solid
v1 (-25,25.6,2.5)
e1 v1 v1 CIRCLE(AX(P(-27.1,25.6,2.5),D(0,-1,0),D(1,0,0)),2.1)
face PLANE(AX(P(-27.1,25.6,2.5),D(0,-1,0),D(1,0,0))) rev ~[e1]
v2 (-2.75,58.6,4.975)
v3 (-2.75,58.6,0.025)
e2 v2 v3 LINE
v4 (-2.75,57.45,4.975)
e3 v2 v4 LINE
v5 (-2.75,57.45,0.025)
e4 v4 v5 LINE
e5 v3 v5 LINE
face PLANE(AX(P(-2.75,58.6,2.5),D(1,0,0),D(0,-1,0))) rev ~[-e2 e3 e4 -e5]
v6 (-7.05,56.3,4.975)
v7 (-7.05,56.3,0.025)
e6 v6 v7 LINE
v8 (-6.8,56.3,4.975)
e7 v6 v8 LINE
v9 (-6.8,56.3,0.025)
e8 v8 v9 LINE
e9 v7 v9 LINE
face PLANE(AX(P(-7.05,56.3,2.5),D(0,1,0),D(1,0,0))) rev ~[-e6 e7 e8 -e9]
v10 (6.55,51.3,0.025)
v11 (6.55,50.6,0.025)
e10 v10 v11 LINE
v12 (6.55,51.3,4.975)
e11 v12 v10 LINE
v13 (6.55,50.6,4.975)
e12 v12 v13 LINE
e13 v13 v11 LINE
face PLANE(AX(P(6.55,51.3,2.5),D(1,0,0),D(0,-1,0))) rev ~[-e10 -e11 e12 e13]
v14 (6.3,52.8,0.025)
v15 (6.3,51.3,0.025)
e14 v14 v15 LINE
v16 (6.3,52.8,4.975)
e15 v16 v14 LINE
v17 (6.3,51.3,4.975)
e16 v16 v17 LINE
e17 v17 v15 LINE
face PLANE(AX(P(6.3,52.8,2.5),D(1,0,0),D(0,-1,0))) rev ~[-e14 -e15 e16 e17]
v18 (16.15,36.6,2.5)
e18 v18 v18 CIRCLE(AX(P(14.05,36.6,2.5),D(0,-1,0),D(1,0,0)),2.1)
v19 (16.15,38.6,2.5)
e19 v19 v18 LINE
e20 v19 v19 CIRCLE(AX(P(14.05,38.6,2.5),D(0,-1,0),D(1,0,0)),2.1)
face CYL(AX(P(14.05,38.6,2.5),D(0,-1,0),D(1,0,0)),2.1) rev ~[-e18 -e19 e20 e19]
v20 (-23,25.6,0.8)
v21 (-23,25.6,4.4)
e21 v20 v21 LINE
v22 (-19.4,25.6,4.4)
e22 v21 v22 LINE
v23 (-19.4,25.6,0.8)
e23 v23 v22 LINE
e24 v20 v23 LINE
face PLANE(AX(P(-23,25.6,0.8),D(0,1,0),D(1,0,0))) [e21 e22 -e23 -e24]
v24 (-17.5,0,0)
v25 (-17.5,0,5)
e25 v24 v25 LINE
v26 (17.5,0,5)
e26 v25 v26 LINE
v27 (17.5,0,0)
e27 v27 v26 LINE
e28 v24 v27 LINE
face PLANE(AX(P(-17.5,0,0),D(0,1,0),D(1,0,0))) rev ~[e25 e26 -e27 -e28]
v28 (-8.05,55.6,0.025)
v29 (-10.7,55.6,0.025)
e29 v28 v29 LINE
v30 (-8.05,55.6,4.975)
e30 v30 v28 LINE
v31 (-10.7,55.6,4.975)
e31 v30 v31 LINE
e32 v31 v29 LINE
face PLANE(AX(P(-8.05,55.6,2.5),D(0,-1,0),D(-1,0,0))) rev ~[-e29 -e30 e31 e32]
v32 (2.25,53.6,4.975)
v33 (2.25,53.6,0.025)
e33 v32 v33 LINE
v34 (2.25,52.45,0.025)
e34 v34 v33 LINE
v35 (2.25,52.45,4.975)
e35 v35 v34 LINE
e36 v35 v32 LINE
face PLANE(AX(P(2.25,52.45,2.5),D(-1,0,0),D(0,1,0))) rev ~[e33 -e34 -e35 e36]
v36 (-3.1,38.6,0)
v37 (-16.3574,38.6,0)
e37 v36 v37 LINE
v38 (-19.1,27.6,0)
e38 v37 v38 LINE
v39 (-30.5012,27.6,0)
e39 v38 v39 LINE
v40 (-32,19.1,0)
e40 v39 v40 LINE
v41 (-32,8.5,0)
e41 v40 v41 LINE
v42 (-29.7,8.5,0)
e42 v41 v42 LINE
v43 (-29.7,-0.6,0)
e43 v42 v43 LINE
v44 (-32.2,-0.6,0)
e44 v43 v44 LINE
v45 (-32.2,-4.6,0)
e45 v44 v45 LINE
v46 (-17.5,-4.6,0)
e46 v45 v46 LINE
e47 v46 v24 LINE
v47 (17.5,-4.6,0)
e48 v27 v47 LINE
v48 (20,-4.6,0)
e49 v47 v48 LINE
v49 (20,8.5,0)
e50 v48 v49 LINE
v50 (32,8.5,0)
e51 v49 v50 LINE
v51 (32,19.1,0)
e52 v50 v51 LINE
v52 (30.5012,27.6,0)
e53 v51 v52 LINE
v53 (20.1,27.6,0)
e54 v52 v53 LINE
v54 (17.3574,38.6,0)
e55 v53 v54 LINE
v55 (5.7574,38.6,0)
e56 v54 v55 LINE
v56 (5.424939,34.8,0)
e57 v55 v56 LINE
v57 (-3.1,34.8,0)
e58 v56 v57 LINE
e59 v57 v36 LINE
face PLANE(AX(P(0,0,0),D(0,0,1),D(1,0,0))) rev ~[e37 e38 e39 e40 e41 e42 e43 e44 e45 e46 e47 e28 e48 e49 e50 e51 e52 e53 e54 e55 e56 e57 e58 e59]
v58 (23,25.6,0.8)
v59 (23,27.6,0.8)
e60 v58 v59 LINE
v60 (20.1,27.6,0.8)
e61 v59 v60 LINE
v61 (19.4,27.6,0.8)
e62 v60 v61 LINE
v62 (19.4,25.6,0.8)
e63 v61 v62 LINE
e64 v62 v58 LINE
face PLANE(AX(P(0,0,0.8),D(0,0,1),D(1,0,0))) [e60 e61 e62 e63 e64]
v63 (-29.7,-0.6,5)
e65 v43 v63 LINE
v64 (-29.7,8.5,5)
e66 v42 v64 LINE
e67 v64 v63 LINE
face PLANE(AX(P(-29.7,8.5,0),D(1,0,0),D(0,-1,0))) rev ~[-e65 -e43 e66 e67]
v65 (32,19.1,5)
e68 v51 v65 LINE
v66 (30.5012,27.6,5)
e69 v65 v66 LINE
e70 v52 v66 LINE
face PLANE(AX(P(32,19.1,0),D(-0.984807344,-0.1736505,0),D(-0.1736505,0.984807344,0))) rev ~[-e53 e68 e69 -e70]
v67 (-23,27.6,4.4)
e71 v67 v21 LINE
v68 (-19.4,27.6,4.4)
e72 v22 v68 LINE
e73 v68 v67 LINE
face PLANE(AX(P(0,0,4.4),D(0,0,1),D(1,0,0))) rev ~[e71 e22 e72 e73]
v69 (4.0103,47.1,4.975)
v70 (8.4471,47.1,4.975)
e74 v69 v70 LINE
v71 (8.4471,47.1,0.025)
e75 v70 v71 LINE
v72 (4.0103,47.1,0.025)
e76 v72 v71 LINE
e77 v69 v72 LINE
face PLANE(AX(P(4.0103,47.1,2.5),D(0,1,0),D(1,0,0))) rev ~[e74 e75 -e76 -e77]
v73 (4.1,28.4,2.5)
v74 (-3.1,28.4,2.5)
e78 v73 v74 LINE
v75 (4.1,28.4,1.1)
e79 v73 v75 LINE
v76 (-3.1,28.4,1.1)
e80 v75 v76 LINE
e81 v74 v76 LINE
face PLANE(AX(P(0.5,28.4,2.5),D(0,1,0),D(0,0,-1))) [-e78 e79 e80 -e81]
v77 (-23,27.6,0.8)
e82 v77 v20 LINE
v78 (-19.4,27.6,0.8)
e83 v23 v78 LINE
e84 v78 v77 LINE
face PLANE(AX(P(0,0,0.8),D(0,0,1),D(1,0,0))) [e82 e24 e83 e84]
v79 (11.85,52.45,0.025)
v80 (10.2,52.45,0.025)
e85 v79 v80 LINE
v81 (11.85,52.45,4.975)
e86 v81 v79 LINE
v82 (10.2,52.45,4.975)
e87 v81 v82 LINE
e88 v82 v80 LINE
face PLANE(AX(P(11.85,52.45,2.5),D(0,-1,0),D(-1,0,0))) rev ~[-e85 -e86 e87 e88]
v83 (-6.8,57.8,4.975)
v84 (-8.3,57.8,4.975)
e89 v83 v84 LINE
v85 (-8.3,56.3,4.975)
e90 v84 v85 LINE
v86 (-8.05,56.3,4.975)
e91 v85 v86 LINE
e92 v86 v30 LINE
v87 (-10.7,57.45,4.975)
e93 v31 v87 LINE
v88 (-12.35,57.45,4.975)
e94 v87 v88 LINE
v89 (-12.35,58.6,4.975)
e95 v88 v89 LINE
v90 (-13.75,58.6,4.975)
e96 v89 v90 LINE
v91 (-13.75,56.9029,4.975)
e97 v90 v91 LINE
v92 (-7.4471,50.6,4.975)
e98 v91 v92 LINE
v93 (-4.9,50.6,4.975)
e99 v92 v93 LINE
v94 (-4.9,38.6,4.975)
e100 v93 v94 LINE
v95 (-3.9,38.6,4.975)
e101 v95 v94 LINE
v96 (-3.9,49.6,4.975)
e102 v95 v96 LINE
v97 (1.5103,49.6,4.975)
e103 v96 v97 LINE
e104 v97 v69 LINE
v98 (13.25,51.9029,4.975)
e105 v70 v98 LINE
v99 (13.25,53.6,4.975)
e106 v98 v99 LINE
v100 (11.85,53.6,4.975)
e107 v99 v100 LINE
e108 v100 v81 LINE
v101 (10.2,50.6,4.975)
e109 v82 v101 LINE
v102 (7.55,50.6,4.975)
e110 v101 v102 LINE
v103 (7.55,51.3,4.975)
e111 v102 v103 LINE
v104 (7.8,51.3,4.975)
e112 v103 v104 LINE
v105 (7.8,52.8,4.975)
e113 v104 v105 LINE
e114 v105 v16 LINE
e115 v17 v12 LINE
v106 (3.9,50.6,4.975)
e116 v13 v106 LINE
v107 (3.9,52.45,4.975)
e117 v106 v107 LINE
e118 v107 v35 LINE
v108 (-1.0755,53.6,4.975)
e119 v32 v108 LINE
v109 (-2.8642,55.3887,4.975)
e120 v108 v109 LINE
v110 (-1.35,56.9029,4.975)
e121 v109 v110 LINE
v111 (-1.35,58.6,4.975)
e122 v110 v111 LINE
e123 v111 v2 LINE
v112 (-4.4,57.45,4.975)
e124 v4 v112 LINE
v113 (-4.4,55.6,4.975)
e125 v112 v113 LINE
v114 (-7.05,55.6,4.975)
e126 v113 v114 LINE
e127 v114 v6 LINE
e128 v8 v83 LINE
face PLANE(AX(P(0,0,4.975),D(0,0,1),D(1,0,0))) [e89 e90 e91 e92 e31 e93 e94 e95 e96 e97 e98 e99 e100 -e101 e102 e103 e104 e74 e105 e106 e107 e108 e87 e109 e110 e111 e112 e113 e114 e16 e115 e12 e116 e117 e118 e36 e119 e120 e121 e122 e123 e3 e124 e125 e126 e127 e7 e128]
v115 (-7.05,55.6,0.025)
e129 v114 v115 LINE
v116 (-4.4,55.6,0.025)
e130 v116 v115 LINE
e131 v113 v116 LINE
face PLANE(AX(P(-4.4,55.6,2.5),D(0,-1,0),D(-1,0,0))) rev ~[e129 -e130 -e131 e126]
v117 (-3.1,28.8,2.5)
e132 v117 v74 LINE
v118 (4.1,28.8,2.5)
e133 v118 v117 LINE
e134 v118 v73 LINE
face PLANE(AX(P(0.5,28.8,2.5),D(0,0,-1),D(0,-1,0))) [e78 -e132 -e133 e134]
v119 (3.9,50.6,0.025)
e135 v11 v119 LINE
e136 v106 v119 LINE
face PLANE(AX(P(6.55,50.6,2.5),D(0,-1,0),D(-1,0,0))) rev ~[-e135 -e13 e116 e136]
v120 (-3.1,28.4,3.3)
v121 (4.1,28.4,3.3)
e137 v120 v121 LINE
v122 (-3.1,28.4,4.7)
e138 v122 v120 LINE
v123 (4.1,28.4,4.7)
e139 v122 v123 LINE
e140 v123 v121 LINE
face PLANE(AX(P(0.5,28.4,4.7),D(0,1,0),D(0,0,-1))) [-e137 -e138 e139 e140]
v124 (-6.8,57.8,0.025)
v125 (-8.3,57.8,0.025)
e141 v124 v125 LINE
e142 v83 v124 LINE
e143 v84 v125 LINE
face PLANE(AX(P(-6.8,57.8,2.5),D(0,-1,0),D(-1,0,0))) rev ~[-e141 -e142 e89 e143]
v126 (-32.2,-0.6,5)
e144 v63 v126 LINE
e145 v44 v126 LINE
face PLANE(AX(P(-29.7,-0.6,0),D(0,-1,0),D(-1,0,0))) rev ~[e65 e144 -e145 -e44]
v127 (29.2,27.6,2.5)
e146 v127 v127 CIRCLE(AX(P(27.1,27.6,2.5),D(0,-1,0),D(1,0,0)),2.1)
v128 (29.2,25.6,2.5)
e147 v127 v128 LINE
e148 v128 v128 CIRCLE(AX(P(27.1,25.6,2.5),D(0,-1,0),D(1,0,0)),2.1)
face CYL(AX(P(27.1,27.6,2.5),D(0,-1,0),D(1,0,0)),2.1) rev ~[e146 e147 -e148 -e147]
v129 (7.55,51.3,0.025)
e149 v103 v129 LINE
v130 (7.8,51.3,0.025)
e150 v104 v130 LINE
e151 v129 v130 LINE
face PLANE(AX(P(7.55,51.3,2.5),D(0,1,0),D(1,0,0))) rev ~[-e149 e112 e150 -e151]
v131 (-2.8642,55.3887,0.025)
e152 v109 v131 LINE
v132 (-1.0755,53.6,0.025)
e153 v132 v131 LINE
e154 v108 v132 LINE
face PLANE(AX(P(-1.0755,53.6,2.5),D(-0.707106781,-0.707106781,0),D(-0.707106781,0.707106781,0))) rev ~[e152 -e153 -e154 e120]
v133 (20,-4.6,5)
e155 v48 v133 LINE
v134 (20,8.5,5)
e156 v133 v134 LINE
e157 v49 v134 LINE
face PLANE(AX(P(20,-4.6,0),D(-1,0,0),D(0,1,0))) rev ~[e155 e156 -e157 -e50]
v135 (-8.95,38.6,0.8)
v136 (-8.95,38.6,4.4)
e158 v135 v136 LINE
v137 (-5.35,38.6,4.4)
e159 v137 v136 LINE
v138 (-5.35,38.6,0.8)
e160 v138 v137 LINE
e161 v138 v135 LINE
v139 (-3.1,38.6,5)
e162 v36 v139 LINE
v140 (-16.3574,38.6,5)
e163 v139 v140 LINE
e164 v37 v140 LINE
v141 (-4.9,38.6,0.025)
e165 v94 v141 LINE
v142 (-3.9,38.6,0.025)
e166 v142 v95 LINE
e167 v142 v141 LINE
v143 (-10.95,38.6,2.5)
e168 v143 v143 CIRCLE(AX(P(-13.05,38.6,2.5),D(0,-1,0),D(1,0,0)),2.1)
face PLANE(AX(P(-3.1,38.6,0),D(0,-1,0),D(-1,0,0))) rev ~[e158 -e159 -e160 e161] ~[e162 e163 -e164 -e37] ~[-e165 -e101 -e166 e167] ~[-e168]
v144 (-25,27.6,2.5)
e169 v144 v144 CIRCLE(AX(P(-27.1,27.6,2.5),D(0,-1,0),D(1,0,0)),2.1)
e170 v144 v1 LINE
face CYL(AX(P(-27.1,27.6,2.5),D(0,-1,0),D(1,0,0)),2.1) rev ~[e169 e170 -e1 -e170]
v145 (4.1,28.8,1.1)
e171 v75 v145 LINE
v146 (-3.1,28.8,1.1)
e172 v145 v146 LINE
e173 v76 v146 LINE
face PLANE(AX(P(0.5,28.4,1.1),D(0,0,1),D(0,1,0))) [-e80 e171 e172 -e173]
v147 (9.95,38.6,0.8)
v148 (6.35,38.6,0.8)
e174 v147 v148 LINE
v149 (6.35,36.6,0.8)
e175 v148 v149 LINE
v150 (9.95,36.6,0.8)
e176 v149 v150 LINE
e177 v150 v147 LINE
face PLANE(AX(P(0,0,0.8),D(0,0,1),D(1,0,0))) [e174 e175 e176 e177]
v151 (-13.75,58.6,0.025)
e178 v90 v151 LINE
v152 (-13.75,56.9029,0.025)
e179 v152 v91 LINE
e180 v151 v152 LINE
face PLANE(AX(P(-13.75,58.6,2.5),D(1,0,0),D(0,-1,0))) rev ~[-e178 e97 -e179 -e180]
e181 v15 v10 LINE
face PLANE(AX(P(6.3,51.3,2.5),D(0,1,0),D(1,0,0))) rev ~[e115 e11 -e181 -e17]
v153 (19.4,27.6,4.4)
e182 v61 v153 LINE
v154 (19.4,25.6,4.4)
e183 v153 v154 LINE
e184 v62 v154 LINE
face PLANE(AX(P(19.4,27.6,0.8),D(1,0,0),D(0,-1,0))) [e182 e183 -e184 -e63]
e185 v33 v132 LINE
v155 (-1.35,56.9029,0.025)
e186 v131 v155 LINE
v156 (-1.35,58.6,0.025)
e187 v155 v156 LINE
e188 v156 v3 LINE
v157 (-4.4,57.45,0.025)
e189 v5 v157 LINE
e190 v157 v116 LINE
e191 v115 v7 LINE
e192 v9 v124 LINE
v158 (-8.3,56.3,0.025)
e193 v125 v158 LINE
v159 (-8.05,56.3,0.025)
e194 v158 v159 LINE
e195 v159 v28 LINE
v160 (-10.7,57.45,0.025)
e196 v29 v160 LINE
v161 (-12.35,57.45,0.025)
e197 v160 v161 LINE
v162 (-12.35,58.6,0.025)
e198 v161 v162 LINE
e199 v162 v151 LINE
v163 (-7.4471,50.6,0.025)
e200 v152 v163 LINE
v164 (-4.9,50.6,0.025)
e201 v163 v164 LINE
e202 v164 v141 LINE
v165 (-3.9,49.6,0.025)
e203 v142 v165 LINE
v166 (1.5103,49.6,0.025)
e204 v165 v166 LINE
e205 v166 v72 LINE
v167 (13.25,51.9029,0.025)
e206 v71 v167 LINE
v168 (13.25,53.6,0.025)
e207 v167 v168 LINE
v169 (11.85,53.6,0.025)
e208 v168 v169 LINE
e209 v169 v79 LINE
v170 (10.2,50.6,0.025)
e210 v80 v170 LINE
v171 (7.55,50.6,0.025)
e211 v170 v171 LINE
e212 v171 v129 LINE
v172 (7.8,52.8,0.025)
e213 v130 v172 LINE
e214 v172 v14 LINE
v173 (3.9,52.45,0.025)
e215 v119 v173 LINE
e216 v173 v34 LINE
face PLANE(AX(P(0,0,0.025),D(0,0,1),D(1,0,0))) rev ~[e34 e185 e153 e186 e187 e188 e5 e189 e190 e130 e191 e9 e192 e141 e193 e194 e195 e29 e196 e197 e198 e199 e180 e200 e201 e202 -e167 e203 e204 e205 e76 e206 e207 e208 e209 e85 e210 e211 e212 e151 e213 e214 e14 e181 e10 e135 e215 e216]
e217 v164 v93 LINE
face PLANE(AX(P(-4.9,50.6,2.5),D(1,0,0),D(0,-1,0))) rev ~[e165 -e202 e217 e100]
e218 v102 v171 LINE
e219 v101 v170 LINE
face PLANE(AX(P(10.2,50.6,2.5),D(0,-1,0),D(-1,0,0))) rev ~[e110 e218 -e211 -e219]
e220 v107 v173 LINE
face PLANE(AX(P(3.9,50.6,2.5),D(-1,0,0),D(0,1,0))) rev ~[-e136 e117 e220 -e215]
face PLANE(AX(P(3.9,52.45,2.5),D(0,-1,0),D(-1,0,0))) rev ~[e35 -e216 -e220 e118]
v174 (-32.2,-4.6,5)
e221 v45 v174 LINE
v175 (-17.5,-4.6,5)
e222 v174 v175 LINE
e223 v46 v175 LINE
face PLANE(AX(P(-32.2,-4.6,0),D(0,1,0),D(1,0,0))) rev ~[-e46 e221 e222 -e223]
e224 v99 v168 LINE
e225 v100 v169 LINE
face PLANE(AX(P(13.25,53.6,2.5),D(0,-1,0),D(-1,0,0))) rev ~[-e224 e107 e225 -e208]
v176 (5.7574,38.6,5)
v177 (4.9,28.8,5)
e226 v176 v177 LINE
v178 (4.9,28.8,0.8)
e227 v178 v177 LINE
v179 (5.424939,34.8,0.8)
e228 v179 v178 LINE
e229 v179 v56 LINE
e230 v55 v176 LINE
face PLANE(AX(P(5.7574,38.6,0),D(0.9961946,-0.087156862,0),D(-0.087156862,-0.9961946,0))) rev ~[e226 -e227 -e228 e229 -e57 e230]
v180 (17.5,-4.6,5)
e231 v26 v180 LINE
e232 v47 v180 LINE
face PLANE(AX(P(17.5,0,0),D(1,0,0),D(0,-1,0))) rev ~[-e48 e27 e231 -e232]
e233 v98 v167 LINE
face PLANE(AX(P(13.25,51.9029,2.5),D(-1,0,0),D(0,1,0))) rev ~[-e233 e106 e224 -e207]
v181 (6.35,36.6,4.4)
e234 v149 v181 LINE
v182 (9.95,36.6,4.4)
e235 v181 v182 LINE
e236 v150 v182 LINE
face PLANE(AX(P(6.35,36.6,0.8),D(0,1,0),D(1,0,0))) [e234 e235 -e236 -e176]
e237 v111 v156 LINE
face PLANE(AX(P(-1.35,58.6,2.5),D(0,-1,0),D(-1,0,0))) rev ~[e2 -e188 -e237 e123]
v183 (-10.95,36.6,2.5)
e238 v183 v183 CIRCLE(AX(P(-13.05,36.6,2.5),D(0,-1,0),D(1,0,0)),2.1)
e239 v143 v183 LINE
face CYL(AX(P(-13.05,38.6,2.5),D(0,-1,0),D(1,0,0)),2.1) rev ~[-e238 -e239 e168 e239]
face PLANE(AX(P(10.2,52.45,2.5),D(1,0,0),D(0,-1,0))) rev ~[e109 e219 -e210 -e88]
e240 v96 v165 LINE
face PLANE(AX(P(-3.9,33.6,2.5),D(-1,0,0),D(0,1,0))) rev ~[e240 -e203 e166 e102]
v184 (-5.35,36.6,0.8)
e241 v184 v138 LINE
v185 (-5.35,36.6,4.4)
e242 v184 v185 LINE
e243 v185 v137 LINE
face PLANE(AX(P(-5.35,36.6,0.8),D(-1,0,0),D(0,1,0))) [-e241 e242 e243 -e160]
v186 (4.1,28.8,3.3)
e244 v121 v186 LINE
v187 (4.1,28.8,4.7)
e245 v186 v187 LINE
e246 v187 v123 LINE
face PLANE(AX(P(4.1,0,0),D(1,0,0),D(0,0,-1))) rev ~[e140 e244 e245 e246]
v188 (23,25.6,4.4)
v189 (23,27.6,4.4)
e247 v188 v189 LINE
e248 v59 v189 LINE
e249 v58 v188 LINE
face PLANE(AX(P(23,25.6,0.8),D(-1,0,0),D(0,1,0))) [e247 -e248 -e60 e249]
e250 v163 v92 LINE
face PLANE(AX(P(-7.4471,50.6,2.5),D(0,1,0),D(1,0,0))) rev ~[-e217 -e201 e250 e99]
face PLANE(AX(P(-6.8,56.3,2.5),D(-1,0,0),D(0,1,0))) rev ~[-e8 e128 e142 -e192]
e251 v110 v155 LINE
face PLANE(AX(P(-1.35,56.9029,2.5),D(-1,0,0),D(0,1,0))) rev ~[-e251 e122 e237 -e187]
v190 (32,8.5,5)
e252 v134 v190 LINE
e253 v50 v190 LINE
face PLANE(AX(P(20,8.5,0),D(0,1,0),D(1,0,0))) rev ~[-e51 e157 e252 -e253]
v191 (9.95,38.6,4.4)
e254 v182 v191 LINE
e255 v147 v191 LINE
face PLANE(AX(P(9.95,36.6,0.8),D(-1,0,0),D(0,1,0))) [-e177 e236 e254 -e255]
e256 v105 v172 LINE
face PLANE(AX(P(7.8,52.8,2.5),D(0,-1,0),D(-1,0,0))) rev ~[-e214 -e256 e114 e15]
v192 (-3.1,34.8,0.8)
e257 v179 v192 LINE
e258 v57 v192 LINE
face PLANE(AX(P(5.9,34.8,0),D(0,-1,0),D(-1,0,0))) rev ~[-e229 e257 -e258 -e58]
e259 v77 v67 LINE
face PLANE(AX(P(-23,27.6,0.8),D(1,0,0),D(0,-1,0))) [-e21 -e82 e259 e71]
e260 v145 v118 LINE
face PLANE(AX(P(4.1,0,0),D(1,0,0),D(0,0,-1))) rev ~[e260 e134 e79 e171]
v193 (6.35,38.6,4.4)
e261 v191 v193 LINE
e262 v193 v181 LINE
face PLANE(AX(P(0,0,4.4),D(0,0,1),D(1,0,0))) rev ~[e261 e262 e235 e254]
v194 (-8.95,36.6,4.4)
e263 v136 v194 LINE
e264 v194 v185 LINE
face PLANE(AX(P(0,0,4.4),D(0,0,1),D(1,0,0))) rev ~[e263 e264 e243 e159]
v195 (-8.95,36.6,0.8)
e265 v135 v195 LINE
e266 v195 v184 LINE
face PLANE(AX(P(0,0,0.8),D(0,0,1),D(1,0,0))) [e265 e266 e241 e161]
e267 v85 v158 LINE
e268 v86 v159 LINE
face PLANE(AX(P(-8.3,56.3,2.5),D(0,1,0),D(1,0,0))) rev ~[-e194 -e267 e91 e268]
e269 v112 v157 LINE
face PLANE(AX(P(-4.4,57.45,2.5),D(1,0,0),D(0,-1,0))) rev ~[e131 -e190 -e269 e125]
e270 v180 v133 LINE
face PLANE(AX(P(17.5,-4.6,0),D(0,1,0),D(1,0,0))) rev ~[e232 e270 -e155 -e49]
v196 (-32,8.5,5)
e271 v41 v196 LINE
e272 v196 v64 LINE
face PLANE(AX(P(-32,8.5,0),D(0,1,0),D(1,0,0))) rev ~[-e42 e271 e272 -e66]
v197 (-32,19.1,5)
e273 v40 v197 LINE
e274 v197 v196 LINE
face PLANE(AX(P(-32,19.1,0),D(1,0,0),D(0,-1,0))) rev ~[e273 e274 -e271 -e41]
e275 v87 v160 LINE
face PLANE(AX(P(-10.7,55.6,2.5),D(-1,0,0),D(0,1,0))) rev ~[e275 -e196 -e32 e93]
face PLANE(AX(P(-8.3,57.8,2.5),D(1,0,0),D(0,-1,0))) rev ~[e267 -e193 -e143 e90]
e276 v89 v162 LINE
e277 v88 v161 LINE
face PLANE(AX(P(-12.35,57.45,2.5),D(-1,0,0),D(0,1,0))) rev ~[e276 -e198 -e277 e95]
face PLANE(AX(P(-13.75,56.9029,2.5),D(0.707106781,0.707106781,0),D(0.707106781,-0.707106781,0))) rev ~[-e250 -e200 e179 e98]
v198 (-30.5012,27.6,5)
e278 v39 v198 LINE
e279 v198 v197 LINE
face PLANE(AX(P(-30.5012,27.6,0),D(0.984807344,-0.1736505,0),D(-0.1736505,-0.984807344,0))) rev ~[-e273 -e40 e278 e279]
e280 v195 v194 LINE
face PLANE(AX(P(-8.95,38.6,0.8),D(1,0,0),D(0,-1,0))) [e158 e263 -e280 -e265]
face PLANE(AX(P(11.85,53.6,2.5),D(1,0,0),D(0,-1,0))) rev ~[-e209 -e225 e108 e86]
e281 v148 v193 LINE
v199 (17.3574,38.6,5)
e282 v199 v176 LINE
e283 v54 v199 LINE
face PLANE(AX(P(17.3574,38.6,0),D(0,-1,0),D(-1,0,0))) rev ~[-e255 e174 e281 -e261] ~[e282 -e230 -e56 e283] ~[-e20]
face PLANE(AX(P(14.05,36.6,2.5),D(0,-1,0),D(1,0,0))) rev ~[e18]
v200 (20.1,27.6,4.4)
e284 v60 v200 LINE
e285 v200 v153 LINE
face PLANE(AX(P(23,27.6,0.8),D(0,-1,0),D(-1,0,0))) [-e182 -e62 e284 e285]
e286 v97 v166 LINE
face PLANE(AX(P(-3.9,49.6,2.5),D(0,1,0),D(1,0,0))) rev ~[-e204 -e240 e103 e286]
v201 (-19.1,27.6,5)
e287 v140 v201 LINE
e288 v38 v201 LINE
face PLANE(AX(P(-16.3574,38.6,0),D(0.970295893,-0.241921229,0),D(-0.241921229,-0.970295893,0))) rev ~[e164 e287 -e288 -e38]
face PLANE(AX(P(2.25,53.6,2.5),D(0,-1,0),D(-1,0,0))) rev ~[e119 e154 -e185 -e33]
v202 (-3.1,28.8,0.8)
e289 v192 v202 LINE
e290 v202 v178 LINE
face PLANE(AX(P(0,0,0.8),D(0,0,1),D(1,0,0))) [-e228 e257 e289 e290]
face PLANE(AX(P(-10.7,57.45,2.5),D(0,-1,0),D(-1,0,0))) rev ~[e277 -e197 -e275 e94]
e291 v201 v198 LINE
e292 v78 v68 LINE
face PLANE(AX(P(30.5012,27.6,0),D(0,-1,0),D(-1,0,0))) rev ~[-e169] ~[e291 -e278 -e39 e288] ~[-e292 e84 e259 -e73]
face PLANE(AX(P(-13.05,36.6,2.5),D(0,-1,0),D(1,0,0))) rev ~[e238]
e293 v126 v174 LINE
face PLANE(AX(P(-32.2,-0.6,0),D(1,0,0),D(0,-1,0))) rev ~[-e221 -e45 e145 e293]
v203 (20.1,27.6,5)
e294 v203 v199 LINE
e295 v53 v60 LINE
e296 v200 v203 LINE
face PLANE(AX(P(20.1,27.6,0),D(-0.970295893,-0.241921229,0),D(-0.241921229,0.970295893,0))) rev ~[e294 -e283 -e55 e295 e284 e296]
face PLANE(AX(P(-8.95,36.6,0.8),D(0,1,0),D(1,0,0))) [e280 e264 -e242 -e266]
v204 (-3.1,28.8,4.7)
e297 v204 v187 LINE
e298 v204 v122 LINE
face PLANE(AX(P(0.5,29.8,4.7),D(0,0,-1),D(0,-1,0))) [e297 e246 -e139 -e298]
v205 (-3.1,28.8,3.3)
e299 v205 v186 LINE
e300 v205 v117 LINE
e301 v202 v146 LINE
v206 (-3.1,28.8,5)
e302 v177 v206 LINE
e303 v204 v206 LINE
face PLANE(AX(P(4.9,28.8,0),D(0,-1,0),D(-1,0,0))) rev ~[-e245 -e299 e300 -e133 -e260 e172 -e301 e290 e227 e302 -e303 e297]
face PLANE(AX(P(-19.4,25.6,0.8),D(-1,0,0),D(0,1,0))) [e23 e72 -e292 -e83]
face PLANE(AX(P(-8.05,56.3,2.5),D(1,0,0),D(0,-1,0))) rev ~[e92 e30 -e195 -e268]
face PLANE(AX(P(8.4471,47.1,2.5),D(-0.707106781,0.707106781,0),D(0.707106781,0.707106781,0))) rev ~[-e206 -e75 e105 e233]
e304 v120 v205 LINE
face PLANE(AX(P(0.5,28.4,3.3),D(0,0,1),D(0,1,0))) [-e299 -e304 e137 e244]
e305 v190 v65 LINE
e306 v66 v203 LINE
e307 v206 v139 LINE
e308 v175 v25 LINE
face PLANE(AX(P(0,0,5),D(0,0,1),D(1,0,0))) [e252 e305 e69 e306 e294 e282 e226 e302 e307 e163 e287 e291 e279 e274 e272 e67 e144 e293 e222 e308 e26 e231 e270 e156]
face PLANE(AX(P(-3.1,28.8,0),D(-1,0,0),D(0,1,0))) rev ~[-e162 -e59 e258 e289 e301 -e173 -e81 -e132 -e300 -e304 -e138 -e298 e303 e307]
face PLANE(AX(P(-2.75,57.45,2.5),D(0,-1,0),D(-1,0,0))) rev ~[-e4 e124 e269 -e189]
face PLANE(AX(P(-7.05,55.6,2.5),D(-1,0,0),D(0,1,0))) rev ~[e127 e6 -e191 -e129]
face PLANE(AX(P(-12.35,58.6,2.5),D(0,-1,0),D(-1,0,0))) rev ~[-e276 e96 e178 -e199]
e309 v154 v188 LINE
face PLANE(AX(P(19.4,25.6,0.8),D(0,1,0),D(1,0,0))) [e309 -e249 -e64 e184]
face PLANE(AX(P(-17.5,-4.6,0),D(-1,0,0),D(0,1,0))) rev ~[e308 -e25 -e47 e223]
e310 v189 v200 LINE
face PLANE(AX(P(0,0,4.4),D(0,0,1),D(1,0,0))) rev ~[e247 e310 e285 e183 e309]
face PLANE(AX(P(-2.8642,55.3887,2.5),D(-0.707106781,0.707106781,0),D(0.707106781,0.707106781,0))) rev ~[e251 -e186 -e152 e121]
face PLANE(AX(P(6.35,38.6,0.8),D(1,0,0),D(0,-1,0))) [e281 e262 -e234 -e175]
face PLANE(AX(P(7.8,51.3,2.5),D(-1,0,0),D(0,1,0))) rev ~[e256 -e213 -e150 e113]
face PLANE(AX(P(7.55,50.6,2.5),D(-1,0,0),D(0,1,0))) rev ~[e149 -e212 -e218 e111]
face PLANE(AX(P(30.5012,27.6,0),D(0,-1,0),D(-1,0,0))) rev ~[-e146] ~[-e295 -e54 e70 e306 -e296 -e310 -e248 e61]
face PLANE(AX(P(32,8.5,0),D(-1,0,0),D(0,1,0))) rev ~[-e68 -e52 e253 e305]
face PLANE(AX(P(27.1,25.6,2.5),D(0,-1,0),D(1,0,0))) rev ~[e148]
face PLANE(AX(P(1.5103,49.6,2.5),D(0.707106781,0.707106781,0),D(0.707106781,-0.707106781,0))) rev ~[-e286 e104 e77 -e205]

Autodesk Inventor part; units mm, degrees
sketch "Sketch_1" plane through (0, 0, 0) normal (0, 0, 1) x (1, 0, 0)
  line L0 (-32.2, -0.6) -> (-32.2, -4.6)
  line L1 (-32.2, -4.6) -> (-17.5, -4.6)
  line L2 (-17.5, -4.6) -> (-17.5, 0)
  line L3 (-17.5, 0) -> (17.5, 0)
  line L4 (17.5, 0) -> (17.5, -4.6)
  line L5 (17.5, -4.6) -> (20, -4.6)
  line L6 (20, -4.6) -> (20, 8.5)
  line L7 (20, 8.5) -> (32, 8.5)
  line L8 (32, 8.5) -> (32, 19.1)
  line L9 (32, 19.1) -> (30.5012, 27.6)
  line L10 (30.5012, 27.6) -> (-30.5012, 27.6)
  line L11 (-30.5012, 27.6) -> (-32, 19.1)
  line L12 (-32, 19.1) -> (-32, 8.5)
  line L13 (-32, 8.5) -> (-29.7, 8.5)
  line L14 (-29.7, 8.5) -> (-29.7, -0.6)
  line L15 (-29.7, -0.6) -> (-32.2, -0.6)
extrude "Extrusion1" add sketch "Sketch_1" along normal blind 5
sketch "Sketch_2" plane through (0, 0, 0) normal (0, 0, 1) x (1, 0, 0)
  line L0 (-19.1, 27.6) -> (-18.2, 27.6)
  line L1 (-18.2, 27.6) -> (-18.2, 15.1)
  line L2 (-18.2, 15.1) -> (19.2, 15.1)
  line L3 (19.2, 15.1) -> (19.2, 27.6)
  line L4 (19.2, 27.6) -> (20.1, 27.6)
  line L5 (20.1, 27.6) -> (17.3574, 38.6)
  line L6 (17.3574, 38.6) -> (5.7574, 38.6)
  line L7 (5.7574, 38.6) -> (4.9, 28.8)
  line L8 (4.9, 28.8) -> (-3.1, 28.8)
  line L9 (-3.1, 28.8) -> (-3.1, 38.6)
  line L10 (-3.1, 38.6) -> (-16.3574, 38.6)
  line L11 (-16.3574, 38.6) -> (-19.1, 27.6)
extrude "Extrusion2" add sketch "Sketch_2" along normal blind 5
sketch "Skizze_3" plane through (0, 0, 0) normal (0, 0, 1) x (1, 0, 0)
  line L0 (-3.1, 34.8) -> (-3.1, 28.8)
  line L1 (-3.1, 28.8) -> (5.9, 28.8)
  line L2 (5.9, 28.8) -> (5.9, 34.8)
  line L3 (5.9, 34.8) -> (-3.1, 34.8)
extrude "Extrusion3" add sketch "Skizze_3" along normal blind 0.8
sketch "Sketch_3" plane through (0.5, 0, 0) normal (1, 0, 0) x (0, 0, -1)
  line L0 (-4.7, 28.4) -> (-3.3, 28.4)
  line L1 (-3.3, 28.4) -> (-3.3, 28.8)
  line L2 (-3.3, 28.8) -> (-2.5, 28.8)
  line L3 (-2.5, 28.8) -> (-2.5, 28.4)
  line L4 (-2.5, 28.4) -> (-1.1, 28.4)
  line L5 (-1.1, 28.4) -> (-1.1, 29.8)
  line L6 (-1.1, 29.8) -> (-4.7, 29.8)
  line L7 (-4.7, 29.8) -> (-4.7, 28.4)
extrude "Extrusion4" cut sketch "Sketch_3" along normal mid plane 7.2
sketch "Sketch_4" plane through (0, 0, 2.5) normal (0, 0, 1) x (1, 0, 0)
  line L0 (27.1, 25.6) -> (27.1, 27.6)
  line L1 (27.1, 27.6) -> (29.2, 27.6)
  line L2 (29.2, 27.6) -> (29.2, 25.6)
  line L3 (29.2, 25.6) -> (27.1, 25.6)
  line L4 (27.1, 25.6) -> (27.1, 27.6)
revolve "Revolution1" cut sketch "Sketch_4" angle 360 about axis through (27.1, 25.6, 2.5) along (0, -1, 0)
sketch "Sketch_5" plane through (0, 0, 2.5) normal (0, 0, 1) x (1, 0, 0)
  line L0 (-27.1, 25.6) -> (-27.1, 27.6)
  line L1 (-27.1, 27.6) -> (-25, 27.6)
  line L2 (-25, 27.6) -> (-25, 25.6)
  line L3 (-25, 25.6) -> (-27.1, 25.6)
  line L4 (-27.1, 25.6) -> (-27.1, 27.6)
revolve "Revolution2" cut sketch "Sketch_5" angle 360 about axis through (-27.1, 25.6, 2.5) along (0, -1, 0)
sketch "Sketch_6" plane through (0, 0, 2.5) normal (0, 0, 1) x (1, 0, 0)
  line L0 (14.05, 36.6) -> (14.05, 38.6)
  line L1 (14.05, 38.6) -> (16.15, 38.6)
  line L2 (16.15, 38.6) -> (16.15, 36.6)
  line L3 (16.15, 36.6) -> (14.05, 36.6)
  line L4 (14.05, 36.6) -> (14.05, 38.6)
revolve "Revolution3" cut sketch "Sketch_6" angle 360 about axis through (14.05, 36.6, 2.5) along (0, -1, 0)
sketch "Sketch_7" plane through (0, 0, 2.5) normal (0, 0, 1) x (1, 0, 0)
  line L0 (-13.05, 36.6) -> (-13.05, 38.6)
  line L1 (-13.05, 38.6) -> (-10.95, 38.6)
  line L2 (-10.95, 38.6) -> (-10.95, 36.6)
  line L3 (-10.95, 36.6) -> (-13.05, 36.6)
  line L4 (-13.05, 36.6) -> (-13.05, 38.6)
revolve "Revolution4" cut sketch "Sketch_7" angle 360 about axis through (-13.05, 36.6, 2.5) along (0, -1, 0)
sketch "Skizze_15" plane through (0, 0, 2.5) normal (0, 0, 1) x (1, 0, 0)
  line L0 (-4.9, 36.6) -> (-3.9, 36.6)
  line L1 (-3.9, 36.6) -> (-3.9, 38.6)
  line L2 (-3.9, 38.6) -> (-4.9, 38.6)
  line L3 (-4.9, 38.6) -> (-4.9, 36.6)
extrude "Extrusion5" cut sketch "Skizze_15" along normal mid plane 4.1
sketch "Skizze_11" plane through (0, 0, 0.8) normal (0, 0, 1) x (1, 0, 0)
  line L0 (19.4, 25.6) -> (23, 25.6)
  line L1 (23, 25.6) -> (23, 27.6)
  line L2 (23, 27.6) -> (19.4, 27.6)
  line L3 (19.4, 27.6) -> (19.4, 25.6)
extrude "Extrusion6" cut sketch "Skizze_11" along normal blind 3.6
sketch "Skizze_12" plane through (0, 0, 0.8) normal (0, 0, 1) x (1, 0, 0)
  line L0 (-23, 25.6) -> (-19.4, 25.6)
  line L1 (-19.4, 25.6) -> (-19.4, 27.6)
  line L2 (-19.4, 27.6) -> (-23, 27.6)
  line L3 (-23, 27.6) -> (-23, 25.6)
extrude "Extrusion7" cut sketch "Skizze_12" along normal blind 3.6
sketch "Skizze_13" plane through (0, 0, 0.8) normal (0, 0, 1) x (1, 0, 0)
  line L0 (6.35, 36.6) -> (9.95, 36.6)
  line L1 (9.95, 36.6) -> (9.95, 38.6)
  line L2 (9.95, 38.6) -> (6.35, 38.6)
  line L3 (6.35, 38.6) -> (6.35, 36.6)
extrude "Extrusion8" cut sketch "Skizze_13" along normal blind 3.6
sketch "Skizze_14" plane through (0, 0, 0.8) normal (0, 0, 1) x (1, 0, 0)
  line L0 (-8.95, 36.6) -> (-5.35, 36.6)
  line L1 (-5.35, 36.6) -> (-5.35, 38.6)
  line L2 (-5.35, 38.6) -> (-8.95, 38.6)
  line L3 (-8.95, 38.6) -> (-8.95, 36.6)
extrude "Extrusion9" cut sketch "Skizze_14" along normal blind 3.6
sketch "Sketch_8" plane through (0, 0, 2.5) normal (0, 0, 1) x (1, 0, 0)
  line L0 (-13.75, 56.9029) -> (-7.4471, 50.6)
  line L1 (-7.4471, 50.6) -> (-4.9, 50.6)
  line L2 (-4.9, 50.6) -> (-4.9, 33.6)
  line L3 (-4.9, 33.6) -> (-3.9, 33.6)
  line L4 (-3.9, 33.6) -> (-3.9, 49.6)
  line L5 (-3.9, 49.6) -> (1.5103, 49.6)
  line L6 (1.5103, 49.6) -> (4.0103, 47.1)
  line L7 (4.0103, 47.1) -> (8.4471, 47.1)
  line L8 (8.4471, 47.1) -> (13.25, 51.9029)
  line L9 (13.25, 51.9029) -> (13.25, 53.6)
  line L10 (13.25, 53.6) -> (11.85, 53.6)
  line L11 (11.85, 53.6) -> (11.85, 52.45)
  line L12 (11.85, 52.45) -> (10.2, 52.45)
  line L13 (10.2, 52.45) -> (10.2, 50.6)
  line L14 (10.2, 50.6) -> (7.55, 50.6)
  line L15 (7.55, 50.6) -> (7.55, 51.3)
  line L16 (7.55, 51.3) -> (7.8, 51.3)
  line L17 (7.8, 51.3) -> (7.8, 52.8)
  line L18 (7.8, 52.8) -> (6.3, 52.8)
  line L19 (6.3, 52.8) -> (6.3, 51.3)
  line L20 (6.3, 51.3) -> (6.55, 51.3)
  line L21 (6.55, 51.3) -> (6.55, 50.6)
  line L22 (6.55, 50.6) -> (3.9, 50.6)
  line L23 (3.9, 50.6) -> (3.9, 52.45)
  line L24 (3.9, 52.45) -> (2.25, 52.45)
  line L25 (2.25, 52.45) -> (2.25, 53.6)
  line L26 (2.25, 53.6) -> (-1.0755, 53.6)
  line L27 (-1.0755, 53.6) -> (-2.8642, 55.3887)
  line L28 (-2.8642, 55.3887) -> (-1.35, 56.9029)
  line L29 (-1.35, 56.9029) -> (-1.35, 58.6)
  line L30 (-1.35, 58.6) -> (-2.75, 58.6)
  line L31 (-2.75, 58.6) -> (-2.75, 57.45)
  line L32 (-2.75, 57.45) -> (-4.4, 57.45)
  line L33 (-4.4, 57.45) -> (-4.4, 55.6)
  line L34 (-4.4, 55.6) -> (-7.05, 55.6)
  line L35 (-7.05, 55.6) -> (-7.05, 56.3)
  line L36 (-7.05, 56.3) -> (-6.8, 56.3)
  line L37 (-6.8, 56.3) -> (-6.8, 57.8)
  line L38 (-6.8, 57.8) -> (-8.3, 57.8)
  line L39 (-8.3, 57.8) -> (-8.3, 56.3)
  line L40 (-8.3, 56.3) -> (-8.05, 56.3)
  line L41 (-8.05, 56.3) -> (-8.05, 55.6)
  line L42 (-8.05, 55.6) -> (-10.7, 55.6)
  line L43 (-10.7, 55.6) -> (-10.7, 57.45)
  line L44 (-10.7, 57.45) -> (-12.35, 57.45)
  line L45 (-12.35, 57.45) -> (-12.35, 58.6)
  line L46 (-12.35, 58.6) -> (-13.75, 58.6)
  line L47 (-13.75, 58.6) -> (-13.75, 56.9029)
extrude "Extrusion10" add sketch "Sketch_8" along normal mid plane 4.95
ref_plane "1_1001_XY" through (7.05, 53.6, 2.5) normal (0, 1, 0) x (-1, 0, 0)
ref_plane "1_1001_YZ" through (7.05, 53.6, 2.5) normal (-1, 0, 0) x (0, 0, 1)
ref_plane "1_1001_ZX" through (7.05, 53.6, 2.5) normal (0, 0, 1) x (0, 1, 0)
ref_plane "1_1002_XY" through (-7.55, 58.6, 2.5) normal (0, 1, 0) x (-1, 0, 0)
ref_plane "1_1002_YZ" through (-7.55, 58.6, 2.5) normal (-1, 0, 0) x (0, 0, 1)
ref_plane "1_1002_ZX" through (-7.55, 58.6, 2.5) normal (0, 0, 1) x (0, 1, 0)
ref_plane "1_13_XY" through (0.4, 28.8, 2) normal (0, 1, 0) x (-1, 0, 0)
ref_plane "1_13_YZ" through (0.4, 28.8, 2) normal (-1, 0, 0) x (0, 0, 1)
ref_plane "1_13_ZX" through (0.4, 28.8, 2) normal (0, 0, 1) x (0, 1, 0)
ref_plane "1_14_XY" through (0.4, 28.8, 3.8) normal (0, 1, 0) x (-1, 0, 0)
ref_plane "1_14_YZ" through (0.4, 28.8, 3.8) normal (-1, 0, 0) x (0, 0, 1)
ref_plane "1_14_ZX" through (0.4, 28.8, 3.8) normal (0, 0, 1) x (0, 1, 0)
ref_plane "1_2_XY" through (-21.2, 27.6, 2.6) normal (0, 1, 0) x (1, 0, 0)
ref_plane "1_2_YZ" through (-21.2, 27.6, 2.6) normal (1, 0, 0) x (0, 0, -1)
ref_plane "1_2_ZX" through (-21.2, 27.6, 2.6) normal (0, 0, -1) x (0, 1, 0)
ref_plane "1_3_XY" through (-7.15, 38.6, 2.6) normal (0, 1, 0) x (1, 0, 0)
ref_plane "1_3_YZ" through (-7.15, 38.6, 2.6) normal (1, 0, 0) x (0, 0, -1)
ref_plane "1_3_ZX" through (-7.15, 38.6, 2.6) normal (0, 0, -1) x (0, 1, 0)
ref_plane "1_4_XY" through (8.15, 38.6, 2.6) normal (0, 1, 0) x (-1, 0, 0)
ref_plane "1_4_YZ" through (8.15, 38.6, 2.6) normal (-1, 0, 0) x (0, 0, 1)
ref_plane "1_4_ZX" through (8.15, 38.6, 2.6) normal (0, 0, 1) x (0, 1, 0)
ref_plane "1_5_XY" through (21.55, 27.6, 2.6) normal (0, 1, 0) x (-1, 0, 0)
ref_plane "1_5_YZ" through (21.55, 27.6, 2.6) normal (-1, 0, 0) x (0, 0, 1)
ref_plane "1_5_ZX" through (21.55, 27.6, 2.6) normal (0, 0, 1) x (0, 1, 0)
ref_plane "1_6_XY" through (-27.1, 27.6, 2.5) normal (0, 1, 0) x (1, 0, 0)
ref_plane "1_6_YZ" through (-27.1, 27.6, 2.5) normal (1, 0, 0) x (0, 0, -1)
ref_plane "1_6_ZX" through (-27.1, 27.6, 2.5) normal (0, 0, -1) x (0, 1, 0)
ref_plane "1_7_XY" through (-13.05, 38.6, 2.5) normal (0, 1, 0) x (1, 0, 0)
ref_plane "1_7_YZ" through (-13.05, 38.6, 2.5) normal (1, 0, 0) x (0, 0, -1)
ref_plane "1_7_ZX" through (-13.05, 38.6, 2.5) normal (0, 0, -1) x (0, 1, 0)
ref_plane "1_8_XY" through (14.05, 38.6, 2.5) normal (0, 1, 0) x (-1, 0, 0)
ref_plane "1_8_YZ" through (14.05, 38.6, 2.5) normal (-1, 0, 0) x (0, 0, 1)
ref_plane "1_8_ZX" through (14.05, 38.6, 2.5) normal (0, 0, 1) x (0, 1, 0)
ref_plane "1_9_XY" through (27.1, 27.6, 2.5) normal (0, 1, 0) x (-1, 0, 0)
ref_plane "1_9_YZ" through (27.1, 27.6, 2.5) normal (-1, 0, 0) x (0, 0, 1)
ref_plane "1_9_ZX" through (27.1, 27.6, 2.5) normal (0, 0, 1) x (0, 1, 0)
ref_plane "MD_XY" through (0, 0, 0) normal (0, -1, 0) x (0, 0, 1)
ref_plane "MD_YZ" through (0, 0, 0) normal (0, 0, 1) x (-1, 0, 0)
ref_plane "MD_ZX" through (0, 0, 0) normal (-1, 0, 0) x (0, -1, 0)
ref_plane "OP_XY" through (-32.2, -4.6, 0) normal (0, 1, 0) x (0, 0, 1)
ref_plane "OP_YZ" through (-32.2, -4.6, 0) normal (0, 0, 1) x (1, 0, 0)
ref_plane "OP_ZX" through (-32.2, -4.6, 0) normal (1, 0, 0) x (0, 1, 0)
ref_plane "a1_XY" through (27.1, 12.6, 2.5) normal (0, 1, 0) x (-1, 0, 0)
ref_plane "a1_YZ" through (27.1, 12.6, 2.5) normal (-1, 0, 0) x (0, 0, 1)
ref_plane "a1_ZX" through (27.1, 12.6, 2.5) normal (0, 0, 1) x (0, 1, 0)
ref_plane "a2_XY" through (14.05, 23.6, 2.5) normal (0, 1, 0) x (-1, 0, 0)
ref_plane "a2_YZ" through (14.05, 23.6, 2.5) normal (-1, 0, 0) x (0, 0, 1)
ref_plane "a2_ZX" through (14.05, 23.6, 2.5) normal (0, 0, 1) x (0, 1, 0)
ref_plane "b3_XY" through (-13.05, 23.6, 2.5) normal (0, 1, 0) x (1, 0, 0)
ref_plane "b3_YZ" through (-13.05, 23.6, 2.5) normal (1, 0, 0) x (0, 0, -1)
ref_plane "b3_ZX" through (-13.05, 23.6, 2.5) normal (0, 0, -1) x (0, 1, 0)
ref_plane "b4_XY" through (-27.1, 12.6, 2.5) normal (0, 1, 0) x (1, 0, 0)
ref_plane "b4_YZ" through (-27.1, 12.6, 2.5) normal (1, 0, 0) x (0, 0, -1)
ref_plane "b4_ZX" through (-27.1, 12.6, 2.5) normal (0, 0, -1) x (0, 1, 0)
ref_plane "j5_XY" through (0.4, 22.8, 2) normal (0, 1, 0) x (-1, 0, 0)
ref_plane "j5_YZ" through (0.4, 22.8, 2) normal (-1, 0, 0) x (0, 0, 1)
ref_plane "j5_ZX" through (0.4, 22.8, 2) normal (0, 0, 1) x (0, 1, 0)
ref_plane "j6_XY" through (0.4, 22.8, 3.8) normal (0, 1, 0) x (-1, 0, 0)
ref_plane "j6_YZ" through (0.4, 22.8, 3.8) normal (-1, 0, 0) x (0, 0, 1)
ref_plane "j6_ZX" through (0.4, 22.8, 3.8) normal (0, 0, 1) x (0, 1, 0)
ref_plane "m7_XY" through (7.05, 53.6, 2.5) normal (0, 1, 0) x (-1, 0, 0)
ref_plane "m7_YZ" through (7.05, 53.6, 2.5) normal (-1, 0, 0) x (0, 0, 1)
ref_plane "m7_ZX" through (7.05, 53.6, 2.5) normal (0, 0, 1) x (0, 1, 0)
ref_plane "m8_XY" through (-7.55, 58.6, 2.5) normal (0, 1, 0) x (-1, 0, 0)
ref_plane "m8_YZ" through (-7.55, 58.6, 2.5) normal (-1, 0, 0) x (0, 0, 1)
ref_plane "m8_ZX" through (-7.55, 58.6, 2.5) normal (0, 0, 1) x (0, 1, 0)
ref_plane "z10_XY" through (8.15, 38.6, 2.6) normal (0, 1, 0) x (-1, 0, 0)
ref_plane "z10_YZ" through (8.15, 38.6, 2.6) normal (-1, 0, 0) x (0, 0, 1)
ref_plane "z10_ZX" through (8.15, 38.6, 2.6) normal (0, 0, 1) x (0, 1, 0)
ref_plane "z11_XY" through (-7.15, 38.6, 2.6) normal (0, 1, 0) x (1, 0, 0)
ref_plane "z11_YZ" through (-7.15, 38.6, 2.6) normal (1, 0, 0) x (0, 0, -1)
ref_plane "z11_ZX" through (-7.15, 38.6, 2.6) normal (0, 0, -1) x (0, 1, 0)
ref_plane "z12_XY" through (-21.2, 27.6, 2.6) normal (0, 1, 0) x (1, 0, 0)
ref_plane "z12_YZ" through (-21.2, 27.6, 2.6) normal (1, 0, 0) x (0, 0, -1)
ref_plane "z12_ZX" through (-21.2, 27.6, 2.6) normal (0, 0, -1) x (0, 1, 0)
ref_plane "z9_XY" through (21.55, 27.6, 2.6) normal (0, 1, 0) x (-1, 0, 0)
ref_plane "z9_YZ" through (21.55, 27.6, 2.6) normal (-1, 0, 0) x (0, 0, 1)
ref_plane "z9_ZX" through (21.55, 27.6, 2.6) normal (0, 0, 1) x (0, 1, 0)
properties part number "280-519_LO"
